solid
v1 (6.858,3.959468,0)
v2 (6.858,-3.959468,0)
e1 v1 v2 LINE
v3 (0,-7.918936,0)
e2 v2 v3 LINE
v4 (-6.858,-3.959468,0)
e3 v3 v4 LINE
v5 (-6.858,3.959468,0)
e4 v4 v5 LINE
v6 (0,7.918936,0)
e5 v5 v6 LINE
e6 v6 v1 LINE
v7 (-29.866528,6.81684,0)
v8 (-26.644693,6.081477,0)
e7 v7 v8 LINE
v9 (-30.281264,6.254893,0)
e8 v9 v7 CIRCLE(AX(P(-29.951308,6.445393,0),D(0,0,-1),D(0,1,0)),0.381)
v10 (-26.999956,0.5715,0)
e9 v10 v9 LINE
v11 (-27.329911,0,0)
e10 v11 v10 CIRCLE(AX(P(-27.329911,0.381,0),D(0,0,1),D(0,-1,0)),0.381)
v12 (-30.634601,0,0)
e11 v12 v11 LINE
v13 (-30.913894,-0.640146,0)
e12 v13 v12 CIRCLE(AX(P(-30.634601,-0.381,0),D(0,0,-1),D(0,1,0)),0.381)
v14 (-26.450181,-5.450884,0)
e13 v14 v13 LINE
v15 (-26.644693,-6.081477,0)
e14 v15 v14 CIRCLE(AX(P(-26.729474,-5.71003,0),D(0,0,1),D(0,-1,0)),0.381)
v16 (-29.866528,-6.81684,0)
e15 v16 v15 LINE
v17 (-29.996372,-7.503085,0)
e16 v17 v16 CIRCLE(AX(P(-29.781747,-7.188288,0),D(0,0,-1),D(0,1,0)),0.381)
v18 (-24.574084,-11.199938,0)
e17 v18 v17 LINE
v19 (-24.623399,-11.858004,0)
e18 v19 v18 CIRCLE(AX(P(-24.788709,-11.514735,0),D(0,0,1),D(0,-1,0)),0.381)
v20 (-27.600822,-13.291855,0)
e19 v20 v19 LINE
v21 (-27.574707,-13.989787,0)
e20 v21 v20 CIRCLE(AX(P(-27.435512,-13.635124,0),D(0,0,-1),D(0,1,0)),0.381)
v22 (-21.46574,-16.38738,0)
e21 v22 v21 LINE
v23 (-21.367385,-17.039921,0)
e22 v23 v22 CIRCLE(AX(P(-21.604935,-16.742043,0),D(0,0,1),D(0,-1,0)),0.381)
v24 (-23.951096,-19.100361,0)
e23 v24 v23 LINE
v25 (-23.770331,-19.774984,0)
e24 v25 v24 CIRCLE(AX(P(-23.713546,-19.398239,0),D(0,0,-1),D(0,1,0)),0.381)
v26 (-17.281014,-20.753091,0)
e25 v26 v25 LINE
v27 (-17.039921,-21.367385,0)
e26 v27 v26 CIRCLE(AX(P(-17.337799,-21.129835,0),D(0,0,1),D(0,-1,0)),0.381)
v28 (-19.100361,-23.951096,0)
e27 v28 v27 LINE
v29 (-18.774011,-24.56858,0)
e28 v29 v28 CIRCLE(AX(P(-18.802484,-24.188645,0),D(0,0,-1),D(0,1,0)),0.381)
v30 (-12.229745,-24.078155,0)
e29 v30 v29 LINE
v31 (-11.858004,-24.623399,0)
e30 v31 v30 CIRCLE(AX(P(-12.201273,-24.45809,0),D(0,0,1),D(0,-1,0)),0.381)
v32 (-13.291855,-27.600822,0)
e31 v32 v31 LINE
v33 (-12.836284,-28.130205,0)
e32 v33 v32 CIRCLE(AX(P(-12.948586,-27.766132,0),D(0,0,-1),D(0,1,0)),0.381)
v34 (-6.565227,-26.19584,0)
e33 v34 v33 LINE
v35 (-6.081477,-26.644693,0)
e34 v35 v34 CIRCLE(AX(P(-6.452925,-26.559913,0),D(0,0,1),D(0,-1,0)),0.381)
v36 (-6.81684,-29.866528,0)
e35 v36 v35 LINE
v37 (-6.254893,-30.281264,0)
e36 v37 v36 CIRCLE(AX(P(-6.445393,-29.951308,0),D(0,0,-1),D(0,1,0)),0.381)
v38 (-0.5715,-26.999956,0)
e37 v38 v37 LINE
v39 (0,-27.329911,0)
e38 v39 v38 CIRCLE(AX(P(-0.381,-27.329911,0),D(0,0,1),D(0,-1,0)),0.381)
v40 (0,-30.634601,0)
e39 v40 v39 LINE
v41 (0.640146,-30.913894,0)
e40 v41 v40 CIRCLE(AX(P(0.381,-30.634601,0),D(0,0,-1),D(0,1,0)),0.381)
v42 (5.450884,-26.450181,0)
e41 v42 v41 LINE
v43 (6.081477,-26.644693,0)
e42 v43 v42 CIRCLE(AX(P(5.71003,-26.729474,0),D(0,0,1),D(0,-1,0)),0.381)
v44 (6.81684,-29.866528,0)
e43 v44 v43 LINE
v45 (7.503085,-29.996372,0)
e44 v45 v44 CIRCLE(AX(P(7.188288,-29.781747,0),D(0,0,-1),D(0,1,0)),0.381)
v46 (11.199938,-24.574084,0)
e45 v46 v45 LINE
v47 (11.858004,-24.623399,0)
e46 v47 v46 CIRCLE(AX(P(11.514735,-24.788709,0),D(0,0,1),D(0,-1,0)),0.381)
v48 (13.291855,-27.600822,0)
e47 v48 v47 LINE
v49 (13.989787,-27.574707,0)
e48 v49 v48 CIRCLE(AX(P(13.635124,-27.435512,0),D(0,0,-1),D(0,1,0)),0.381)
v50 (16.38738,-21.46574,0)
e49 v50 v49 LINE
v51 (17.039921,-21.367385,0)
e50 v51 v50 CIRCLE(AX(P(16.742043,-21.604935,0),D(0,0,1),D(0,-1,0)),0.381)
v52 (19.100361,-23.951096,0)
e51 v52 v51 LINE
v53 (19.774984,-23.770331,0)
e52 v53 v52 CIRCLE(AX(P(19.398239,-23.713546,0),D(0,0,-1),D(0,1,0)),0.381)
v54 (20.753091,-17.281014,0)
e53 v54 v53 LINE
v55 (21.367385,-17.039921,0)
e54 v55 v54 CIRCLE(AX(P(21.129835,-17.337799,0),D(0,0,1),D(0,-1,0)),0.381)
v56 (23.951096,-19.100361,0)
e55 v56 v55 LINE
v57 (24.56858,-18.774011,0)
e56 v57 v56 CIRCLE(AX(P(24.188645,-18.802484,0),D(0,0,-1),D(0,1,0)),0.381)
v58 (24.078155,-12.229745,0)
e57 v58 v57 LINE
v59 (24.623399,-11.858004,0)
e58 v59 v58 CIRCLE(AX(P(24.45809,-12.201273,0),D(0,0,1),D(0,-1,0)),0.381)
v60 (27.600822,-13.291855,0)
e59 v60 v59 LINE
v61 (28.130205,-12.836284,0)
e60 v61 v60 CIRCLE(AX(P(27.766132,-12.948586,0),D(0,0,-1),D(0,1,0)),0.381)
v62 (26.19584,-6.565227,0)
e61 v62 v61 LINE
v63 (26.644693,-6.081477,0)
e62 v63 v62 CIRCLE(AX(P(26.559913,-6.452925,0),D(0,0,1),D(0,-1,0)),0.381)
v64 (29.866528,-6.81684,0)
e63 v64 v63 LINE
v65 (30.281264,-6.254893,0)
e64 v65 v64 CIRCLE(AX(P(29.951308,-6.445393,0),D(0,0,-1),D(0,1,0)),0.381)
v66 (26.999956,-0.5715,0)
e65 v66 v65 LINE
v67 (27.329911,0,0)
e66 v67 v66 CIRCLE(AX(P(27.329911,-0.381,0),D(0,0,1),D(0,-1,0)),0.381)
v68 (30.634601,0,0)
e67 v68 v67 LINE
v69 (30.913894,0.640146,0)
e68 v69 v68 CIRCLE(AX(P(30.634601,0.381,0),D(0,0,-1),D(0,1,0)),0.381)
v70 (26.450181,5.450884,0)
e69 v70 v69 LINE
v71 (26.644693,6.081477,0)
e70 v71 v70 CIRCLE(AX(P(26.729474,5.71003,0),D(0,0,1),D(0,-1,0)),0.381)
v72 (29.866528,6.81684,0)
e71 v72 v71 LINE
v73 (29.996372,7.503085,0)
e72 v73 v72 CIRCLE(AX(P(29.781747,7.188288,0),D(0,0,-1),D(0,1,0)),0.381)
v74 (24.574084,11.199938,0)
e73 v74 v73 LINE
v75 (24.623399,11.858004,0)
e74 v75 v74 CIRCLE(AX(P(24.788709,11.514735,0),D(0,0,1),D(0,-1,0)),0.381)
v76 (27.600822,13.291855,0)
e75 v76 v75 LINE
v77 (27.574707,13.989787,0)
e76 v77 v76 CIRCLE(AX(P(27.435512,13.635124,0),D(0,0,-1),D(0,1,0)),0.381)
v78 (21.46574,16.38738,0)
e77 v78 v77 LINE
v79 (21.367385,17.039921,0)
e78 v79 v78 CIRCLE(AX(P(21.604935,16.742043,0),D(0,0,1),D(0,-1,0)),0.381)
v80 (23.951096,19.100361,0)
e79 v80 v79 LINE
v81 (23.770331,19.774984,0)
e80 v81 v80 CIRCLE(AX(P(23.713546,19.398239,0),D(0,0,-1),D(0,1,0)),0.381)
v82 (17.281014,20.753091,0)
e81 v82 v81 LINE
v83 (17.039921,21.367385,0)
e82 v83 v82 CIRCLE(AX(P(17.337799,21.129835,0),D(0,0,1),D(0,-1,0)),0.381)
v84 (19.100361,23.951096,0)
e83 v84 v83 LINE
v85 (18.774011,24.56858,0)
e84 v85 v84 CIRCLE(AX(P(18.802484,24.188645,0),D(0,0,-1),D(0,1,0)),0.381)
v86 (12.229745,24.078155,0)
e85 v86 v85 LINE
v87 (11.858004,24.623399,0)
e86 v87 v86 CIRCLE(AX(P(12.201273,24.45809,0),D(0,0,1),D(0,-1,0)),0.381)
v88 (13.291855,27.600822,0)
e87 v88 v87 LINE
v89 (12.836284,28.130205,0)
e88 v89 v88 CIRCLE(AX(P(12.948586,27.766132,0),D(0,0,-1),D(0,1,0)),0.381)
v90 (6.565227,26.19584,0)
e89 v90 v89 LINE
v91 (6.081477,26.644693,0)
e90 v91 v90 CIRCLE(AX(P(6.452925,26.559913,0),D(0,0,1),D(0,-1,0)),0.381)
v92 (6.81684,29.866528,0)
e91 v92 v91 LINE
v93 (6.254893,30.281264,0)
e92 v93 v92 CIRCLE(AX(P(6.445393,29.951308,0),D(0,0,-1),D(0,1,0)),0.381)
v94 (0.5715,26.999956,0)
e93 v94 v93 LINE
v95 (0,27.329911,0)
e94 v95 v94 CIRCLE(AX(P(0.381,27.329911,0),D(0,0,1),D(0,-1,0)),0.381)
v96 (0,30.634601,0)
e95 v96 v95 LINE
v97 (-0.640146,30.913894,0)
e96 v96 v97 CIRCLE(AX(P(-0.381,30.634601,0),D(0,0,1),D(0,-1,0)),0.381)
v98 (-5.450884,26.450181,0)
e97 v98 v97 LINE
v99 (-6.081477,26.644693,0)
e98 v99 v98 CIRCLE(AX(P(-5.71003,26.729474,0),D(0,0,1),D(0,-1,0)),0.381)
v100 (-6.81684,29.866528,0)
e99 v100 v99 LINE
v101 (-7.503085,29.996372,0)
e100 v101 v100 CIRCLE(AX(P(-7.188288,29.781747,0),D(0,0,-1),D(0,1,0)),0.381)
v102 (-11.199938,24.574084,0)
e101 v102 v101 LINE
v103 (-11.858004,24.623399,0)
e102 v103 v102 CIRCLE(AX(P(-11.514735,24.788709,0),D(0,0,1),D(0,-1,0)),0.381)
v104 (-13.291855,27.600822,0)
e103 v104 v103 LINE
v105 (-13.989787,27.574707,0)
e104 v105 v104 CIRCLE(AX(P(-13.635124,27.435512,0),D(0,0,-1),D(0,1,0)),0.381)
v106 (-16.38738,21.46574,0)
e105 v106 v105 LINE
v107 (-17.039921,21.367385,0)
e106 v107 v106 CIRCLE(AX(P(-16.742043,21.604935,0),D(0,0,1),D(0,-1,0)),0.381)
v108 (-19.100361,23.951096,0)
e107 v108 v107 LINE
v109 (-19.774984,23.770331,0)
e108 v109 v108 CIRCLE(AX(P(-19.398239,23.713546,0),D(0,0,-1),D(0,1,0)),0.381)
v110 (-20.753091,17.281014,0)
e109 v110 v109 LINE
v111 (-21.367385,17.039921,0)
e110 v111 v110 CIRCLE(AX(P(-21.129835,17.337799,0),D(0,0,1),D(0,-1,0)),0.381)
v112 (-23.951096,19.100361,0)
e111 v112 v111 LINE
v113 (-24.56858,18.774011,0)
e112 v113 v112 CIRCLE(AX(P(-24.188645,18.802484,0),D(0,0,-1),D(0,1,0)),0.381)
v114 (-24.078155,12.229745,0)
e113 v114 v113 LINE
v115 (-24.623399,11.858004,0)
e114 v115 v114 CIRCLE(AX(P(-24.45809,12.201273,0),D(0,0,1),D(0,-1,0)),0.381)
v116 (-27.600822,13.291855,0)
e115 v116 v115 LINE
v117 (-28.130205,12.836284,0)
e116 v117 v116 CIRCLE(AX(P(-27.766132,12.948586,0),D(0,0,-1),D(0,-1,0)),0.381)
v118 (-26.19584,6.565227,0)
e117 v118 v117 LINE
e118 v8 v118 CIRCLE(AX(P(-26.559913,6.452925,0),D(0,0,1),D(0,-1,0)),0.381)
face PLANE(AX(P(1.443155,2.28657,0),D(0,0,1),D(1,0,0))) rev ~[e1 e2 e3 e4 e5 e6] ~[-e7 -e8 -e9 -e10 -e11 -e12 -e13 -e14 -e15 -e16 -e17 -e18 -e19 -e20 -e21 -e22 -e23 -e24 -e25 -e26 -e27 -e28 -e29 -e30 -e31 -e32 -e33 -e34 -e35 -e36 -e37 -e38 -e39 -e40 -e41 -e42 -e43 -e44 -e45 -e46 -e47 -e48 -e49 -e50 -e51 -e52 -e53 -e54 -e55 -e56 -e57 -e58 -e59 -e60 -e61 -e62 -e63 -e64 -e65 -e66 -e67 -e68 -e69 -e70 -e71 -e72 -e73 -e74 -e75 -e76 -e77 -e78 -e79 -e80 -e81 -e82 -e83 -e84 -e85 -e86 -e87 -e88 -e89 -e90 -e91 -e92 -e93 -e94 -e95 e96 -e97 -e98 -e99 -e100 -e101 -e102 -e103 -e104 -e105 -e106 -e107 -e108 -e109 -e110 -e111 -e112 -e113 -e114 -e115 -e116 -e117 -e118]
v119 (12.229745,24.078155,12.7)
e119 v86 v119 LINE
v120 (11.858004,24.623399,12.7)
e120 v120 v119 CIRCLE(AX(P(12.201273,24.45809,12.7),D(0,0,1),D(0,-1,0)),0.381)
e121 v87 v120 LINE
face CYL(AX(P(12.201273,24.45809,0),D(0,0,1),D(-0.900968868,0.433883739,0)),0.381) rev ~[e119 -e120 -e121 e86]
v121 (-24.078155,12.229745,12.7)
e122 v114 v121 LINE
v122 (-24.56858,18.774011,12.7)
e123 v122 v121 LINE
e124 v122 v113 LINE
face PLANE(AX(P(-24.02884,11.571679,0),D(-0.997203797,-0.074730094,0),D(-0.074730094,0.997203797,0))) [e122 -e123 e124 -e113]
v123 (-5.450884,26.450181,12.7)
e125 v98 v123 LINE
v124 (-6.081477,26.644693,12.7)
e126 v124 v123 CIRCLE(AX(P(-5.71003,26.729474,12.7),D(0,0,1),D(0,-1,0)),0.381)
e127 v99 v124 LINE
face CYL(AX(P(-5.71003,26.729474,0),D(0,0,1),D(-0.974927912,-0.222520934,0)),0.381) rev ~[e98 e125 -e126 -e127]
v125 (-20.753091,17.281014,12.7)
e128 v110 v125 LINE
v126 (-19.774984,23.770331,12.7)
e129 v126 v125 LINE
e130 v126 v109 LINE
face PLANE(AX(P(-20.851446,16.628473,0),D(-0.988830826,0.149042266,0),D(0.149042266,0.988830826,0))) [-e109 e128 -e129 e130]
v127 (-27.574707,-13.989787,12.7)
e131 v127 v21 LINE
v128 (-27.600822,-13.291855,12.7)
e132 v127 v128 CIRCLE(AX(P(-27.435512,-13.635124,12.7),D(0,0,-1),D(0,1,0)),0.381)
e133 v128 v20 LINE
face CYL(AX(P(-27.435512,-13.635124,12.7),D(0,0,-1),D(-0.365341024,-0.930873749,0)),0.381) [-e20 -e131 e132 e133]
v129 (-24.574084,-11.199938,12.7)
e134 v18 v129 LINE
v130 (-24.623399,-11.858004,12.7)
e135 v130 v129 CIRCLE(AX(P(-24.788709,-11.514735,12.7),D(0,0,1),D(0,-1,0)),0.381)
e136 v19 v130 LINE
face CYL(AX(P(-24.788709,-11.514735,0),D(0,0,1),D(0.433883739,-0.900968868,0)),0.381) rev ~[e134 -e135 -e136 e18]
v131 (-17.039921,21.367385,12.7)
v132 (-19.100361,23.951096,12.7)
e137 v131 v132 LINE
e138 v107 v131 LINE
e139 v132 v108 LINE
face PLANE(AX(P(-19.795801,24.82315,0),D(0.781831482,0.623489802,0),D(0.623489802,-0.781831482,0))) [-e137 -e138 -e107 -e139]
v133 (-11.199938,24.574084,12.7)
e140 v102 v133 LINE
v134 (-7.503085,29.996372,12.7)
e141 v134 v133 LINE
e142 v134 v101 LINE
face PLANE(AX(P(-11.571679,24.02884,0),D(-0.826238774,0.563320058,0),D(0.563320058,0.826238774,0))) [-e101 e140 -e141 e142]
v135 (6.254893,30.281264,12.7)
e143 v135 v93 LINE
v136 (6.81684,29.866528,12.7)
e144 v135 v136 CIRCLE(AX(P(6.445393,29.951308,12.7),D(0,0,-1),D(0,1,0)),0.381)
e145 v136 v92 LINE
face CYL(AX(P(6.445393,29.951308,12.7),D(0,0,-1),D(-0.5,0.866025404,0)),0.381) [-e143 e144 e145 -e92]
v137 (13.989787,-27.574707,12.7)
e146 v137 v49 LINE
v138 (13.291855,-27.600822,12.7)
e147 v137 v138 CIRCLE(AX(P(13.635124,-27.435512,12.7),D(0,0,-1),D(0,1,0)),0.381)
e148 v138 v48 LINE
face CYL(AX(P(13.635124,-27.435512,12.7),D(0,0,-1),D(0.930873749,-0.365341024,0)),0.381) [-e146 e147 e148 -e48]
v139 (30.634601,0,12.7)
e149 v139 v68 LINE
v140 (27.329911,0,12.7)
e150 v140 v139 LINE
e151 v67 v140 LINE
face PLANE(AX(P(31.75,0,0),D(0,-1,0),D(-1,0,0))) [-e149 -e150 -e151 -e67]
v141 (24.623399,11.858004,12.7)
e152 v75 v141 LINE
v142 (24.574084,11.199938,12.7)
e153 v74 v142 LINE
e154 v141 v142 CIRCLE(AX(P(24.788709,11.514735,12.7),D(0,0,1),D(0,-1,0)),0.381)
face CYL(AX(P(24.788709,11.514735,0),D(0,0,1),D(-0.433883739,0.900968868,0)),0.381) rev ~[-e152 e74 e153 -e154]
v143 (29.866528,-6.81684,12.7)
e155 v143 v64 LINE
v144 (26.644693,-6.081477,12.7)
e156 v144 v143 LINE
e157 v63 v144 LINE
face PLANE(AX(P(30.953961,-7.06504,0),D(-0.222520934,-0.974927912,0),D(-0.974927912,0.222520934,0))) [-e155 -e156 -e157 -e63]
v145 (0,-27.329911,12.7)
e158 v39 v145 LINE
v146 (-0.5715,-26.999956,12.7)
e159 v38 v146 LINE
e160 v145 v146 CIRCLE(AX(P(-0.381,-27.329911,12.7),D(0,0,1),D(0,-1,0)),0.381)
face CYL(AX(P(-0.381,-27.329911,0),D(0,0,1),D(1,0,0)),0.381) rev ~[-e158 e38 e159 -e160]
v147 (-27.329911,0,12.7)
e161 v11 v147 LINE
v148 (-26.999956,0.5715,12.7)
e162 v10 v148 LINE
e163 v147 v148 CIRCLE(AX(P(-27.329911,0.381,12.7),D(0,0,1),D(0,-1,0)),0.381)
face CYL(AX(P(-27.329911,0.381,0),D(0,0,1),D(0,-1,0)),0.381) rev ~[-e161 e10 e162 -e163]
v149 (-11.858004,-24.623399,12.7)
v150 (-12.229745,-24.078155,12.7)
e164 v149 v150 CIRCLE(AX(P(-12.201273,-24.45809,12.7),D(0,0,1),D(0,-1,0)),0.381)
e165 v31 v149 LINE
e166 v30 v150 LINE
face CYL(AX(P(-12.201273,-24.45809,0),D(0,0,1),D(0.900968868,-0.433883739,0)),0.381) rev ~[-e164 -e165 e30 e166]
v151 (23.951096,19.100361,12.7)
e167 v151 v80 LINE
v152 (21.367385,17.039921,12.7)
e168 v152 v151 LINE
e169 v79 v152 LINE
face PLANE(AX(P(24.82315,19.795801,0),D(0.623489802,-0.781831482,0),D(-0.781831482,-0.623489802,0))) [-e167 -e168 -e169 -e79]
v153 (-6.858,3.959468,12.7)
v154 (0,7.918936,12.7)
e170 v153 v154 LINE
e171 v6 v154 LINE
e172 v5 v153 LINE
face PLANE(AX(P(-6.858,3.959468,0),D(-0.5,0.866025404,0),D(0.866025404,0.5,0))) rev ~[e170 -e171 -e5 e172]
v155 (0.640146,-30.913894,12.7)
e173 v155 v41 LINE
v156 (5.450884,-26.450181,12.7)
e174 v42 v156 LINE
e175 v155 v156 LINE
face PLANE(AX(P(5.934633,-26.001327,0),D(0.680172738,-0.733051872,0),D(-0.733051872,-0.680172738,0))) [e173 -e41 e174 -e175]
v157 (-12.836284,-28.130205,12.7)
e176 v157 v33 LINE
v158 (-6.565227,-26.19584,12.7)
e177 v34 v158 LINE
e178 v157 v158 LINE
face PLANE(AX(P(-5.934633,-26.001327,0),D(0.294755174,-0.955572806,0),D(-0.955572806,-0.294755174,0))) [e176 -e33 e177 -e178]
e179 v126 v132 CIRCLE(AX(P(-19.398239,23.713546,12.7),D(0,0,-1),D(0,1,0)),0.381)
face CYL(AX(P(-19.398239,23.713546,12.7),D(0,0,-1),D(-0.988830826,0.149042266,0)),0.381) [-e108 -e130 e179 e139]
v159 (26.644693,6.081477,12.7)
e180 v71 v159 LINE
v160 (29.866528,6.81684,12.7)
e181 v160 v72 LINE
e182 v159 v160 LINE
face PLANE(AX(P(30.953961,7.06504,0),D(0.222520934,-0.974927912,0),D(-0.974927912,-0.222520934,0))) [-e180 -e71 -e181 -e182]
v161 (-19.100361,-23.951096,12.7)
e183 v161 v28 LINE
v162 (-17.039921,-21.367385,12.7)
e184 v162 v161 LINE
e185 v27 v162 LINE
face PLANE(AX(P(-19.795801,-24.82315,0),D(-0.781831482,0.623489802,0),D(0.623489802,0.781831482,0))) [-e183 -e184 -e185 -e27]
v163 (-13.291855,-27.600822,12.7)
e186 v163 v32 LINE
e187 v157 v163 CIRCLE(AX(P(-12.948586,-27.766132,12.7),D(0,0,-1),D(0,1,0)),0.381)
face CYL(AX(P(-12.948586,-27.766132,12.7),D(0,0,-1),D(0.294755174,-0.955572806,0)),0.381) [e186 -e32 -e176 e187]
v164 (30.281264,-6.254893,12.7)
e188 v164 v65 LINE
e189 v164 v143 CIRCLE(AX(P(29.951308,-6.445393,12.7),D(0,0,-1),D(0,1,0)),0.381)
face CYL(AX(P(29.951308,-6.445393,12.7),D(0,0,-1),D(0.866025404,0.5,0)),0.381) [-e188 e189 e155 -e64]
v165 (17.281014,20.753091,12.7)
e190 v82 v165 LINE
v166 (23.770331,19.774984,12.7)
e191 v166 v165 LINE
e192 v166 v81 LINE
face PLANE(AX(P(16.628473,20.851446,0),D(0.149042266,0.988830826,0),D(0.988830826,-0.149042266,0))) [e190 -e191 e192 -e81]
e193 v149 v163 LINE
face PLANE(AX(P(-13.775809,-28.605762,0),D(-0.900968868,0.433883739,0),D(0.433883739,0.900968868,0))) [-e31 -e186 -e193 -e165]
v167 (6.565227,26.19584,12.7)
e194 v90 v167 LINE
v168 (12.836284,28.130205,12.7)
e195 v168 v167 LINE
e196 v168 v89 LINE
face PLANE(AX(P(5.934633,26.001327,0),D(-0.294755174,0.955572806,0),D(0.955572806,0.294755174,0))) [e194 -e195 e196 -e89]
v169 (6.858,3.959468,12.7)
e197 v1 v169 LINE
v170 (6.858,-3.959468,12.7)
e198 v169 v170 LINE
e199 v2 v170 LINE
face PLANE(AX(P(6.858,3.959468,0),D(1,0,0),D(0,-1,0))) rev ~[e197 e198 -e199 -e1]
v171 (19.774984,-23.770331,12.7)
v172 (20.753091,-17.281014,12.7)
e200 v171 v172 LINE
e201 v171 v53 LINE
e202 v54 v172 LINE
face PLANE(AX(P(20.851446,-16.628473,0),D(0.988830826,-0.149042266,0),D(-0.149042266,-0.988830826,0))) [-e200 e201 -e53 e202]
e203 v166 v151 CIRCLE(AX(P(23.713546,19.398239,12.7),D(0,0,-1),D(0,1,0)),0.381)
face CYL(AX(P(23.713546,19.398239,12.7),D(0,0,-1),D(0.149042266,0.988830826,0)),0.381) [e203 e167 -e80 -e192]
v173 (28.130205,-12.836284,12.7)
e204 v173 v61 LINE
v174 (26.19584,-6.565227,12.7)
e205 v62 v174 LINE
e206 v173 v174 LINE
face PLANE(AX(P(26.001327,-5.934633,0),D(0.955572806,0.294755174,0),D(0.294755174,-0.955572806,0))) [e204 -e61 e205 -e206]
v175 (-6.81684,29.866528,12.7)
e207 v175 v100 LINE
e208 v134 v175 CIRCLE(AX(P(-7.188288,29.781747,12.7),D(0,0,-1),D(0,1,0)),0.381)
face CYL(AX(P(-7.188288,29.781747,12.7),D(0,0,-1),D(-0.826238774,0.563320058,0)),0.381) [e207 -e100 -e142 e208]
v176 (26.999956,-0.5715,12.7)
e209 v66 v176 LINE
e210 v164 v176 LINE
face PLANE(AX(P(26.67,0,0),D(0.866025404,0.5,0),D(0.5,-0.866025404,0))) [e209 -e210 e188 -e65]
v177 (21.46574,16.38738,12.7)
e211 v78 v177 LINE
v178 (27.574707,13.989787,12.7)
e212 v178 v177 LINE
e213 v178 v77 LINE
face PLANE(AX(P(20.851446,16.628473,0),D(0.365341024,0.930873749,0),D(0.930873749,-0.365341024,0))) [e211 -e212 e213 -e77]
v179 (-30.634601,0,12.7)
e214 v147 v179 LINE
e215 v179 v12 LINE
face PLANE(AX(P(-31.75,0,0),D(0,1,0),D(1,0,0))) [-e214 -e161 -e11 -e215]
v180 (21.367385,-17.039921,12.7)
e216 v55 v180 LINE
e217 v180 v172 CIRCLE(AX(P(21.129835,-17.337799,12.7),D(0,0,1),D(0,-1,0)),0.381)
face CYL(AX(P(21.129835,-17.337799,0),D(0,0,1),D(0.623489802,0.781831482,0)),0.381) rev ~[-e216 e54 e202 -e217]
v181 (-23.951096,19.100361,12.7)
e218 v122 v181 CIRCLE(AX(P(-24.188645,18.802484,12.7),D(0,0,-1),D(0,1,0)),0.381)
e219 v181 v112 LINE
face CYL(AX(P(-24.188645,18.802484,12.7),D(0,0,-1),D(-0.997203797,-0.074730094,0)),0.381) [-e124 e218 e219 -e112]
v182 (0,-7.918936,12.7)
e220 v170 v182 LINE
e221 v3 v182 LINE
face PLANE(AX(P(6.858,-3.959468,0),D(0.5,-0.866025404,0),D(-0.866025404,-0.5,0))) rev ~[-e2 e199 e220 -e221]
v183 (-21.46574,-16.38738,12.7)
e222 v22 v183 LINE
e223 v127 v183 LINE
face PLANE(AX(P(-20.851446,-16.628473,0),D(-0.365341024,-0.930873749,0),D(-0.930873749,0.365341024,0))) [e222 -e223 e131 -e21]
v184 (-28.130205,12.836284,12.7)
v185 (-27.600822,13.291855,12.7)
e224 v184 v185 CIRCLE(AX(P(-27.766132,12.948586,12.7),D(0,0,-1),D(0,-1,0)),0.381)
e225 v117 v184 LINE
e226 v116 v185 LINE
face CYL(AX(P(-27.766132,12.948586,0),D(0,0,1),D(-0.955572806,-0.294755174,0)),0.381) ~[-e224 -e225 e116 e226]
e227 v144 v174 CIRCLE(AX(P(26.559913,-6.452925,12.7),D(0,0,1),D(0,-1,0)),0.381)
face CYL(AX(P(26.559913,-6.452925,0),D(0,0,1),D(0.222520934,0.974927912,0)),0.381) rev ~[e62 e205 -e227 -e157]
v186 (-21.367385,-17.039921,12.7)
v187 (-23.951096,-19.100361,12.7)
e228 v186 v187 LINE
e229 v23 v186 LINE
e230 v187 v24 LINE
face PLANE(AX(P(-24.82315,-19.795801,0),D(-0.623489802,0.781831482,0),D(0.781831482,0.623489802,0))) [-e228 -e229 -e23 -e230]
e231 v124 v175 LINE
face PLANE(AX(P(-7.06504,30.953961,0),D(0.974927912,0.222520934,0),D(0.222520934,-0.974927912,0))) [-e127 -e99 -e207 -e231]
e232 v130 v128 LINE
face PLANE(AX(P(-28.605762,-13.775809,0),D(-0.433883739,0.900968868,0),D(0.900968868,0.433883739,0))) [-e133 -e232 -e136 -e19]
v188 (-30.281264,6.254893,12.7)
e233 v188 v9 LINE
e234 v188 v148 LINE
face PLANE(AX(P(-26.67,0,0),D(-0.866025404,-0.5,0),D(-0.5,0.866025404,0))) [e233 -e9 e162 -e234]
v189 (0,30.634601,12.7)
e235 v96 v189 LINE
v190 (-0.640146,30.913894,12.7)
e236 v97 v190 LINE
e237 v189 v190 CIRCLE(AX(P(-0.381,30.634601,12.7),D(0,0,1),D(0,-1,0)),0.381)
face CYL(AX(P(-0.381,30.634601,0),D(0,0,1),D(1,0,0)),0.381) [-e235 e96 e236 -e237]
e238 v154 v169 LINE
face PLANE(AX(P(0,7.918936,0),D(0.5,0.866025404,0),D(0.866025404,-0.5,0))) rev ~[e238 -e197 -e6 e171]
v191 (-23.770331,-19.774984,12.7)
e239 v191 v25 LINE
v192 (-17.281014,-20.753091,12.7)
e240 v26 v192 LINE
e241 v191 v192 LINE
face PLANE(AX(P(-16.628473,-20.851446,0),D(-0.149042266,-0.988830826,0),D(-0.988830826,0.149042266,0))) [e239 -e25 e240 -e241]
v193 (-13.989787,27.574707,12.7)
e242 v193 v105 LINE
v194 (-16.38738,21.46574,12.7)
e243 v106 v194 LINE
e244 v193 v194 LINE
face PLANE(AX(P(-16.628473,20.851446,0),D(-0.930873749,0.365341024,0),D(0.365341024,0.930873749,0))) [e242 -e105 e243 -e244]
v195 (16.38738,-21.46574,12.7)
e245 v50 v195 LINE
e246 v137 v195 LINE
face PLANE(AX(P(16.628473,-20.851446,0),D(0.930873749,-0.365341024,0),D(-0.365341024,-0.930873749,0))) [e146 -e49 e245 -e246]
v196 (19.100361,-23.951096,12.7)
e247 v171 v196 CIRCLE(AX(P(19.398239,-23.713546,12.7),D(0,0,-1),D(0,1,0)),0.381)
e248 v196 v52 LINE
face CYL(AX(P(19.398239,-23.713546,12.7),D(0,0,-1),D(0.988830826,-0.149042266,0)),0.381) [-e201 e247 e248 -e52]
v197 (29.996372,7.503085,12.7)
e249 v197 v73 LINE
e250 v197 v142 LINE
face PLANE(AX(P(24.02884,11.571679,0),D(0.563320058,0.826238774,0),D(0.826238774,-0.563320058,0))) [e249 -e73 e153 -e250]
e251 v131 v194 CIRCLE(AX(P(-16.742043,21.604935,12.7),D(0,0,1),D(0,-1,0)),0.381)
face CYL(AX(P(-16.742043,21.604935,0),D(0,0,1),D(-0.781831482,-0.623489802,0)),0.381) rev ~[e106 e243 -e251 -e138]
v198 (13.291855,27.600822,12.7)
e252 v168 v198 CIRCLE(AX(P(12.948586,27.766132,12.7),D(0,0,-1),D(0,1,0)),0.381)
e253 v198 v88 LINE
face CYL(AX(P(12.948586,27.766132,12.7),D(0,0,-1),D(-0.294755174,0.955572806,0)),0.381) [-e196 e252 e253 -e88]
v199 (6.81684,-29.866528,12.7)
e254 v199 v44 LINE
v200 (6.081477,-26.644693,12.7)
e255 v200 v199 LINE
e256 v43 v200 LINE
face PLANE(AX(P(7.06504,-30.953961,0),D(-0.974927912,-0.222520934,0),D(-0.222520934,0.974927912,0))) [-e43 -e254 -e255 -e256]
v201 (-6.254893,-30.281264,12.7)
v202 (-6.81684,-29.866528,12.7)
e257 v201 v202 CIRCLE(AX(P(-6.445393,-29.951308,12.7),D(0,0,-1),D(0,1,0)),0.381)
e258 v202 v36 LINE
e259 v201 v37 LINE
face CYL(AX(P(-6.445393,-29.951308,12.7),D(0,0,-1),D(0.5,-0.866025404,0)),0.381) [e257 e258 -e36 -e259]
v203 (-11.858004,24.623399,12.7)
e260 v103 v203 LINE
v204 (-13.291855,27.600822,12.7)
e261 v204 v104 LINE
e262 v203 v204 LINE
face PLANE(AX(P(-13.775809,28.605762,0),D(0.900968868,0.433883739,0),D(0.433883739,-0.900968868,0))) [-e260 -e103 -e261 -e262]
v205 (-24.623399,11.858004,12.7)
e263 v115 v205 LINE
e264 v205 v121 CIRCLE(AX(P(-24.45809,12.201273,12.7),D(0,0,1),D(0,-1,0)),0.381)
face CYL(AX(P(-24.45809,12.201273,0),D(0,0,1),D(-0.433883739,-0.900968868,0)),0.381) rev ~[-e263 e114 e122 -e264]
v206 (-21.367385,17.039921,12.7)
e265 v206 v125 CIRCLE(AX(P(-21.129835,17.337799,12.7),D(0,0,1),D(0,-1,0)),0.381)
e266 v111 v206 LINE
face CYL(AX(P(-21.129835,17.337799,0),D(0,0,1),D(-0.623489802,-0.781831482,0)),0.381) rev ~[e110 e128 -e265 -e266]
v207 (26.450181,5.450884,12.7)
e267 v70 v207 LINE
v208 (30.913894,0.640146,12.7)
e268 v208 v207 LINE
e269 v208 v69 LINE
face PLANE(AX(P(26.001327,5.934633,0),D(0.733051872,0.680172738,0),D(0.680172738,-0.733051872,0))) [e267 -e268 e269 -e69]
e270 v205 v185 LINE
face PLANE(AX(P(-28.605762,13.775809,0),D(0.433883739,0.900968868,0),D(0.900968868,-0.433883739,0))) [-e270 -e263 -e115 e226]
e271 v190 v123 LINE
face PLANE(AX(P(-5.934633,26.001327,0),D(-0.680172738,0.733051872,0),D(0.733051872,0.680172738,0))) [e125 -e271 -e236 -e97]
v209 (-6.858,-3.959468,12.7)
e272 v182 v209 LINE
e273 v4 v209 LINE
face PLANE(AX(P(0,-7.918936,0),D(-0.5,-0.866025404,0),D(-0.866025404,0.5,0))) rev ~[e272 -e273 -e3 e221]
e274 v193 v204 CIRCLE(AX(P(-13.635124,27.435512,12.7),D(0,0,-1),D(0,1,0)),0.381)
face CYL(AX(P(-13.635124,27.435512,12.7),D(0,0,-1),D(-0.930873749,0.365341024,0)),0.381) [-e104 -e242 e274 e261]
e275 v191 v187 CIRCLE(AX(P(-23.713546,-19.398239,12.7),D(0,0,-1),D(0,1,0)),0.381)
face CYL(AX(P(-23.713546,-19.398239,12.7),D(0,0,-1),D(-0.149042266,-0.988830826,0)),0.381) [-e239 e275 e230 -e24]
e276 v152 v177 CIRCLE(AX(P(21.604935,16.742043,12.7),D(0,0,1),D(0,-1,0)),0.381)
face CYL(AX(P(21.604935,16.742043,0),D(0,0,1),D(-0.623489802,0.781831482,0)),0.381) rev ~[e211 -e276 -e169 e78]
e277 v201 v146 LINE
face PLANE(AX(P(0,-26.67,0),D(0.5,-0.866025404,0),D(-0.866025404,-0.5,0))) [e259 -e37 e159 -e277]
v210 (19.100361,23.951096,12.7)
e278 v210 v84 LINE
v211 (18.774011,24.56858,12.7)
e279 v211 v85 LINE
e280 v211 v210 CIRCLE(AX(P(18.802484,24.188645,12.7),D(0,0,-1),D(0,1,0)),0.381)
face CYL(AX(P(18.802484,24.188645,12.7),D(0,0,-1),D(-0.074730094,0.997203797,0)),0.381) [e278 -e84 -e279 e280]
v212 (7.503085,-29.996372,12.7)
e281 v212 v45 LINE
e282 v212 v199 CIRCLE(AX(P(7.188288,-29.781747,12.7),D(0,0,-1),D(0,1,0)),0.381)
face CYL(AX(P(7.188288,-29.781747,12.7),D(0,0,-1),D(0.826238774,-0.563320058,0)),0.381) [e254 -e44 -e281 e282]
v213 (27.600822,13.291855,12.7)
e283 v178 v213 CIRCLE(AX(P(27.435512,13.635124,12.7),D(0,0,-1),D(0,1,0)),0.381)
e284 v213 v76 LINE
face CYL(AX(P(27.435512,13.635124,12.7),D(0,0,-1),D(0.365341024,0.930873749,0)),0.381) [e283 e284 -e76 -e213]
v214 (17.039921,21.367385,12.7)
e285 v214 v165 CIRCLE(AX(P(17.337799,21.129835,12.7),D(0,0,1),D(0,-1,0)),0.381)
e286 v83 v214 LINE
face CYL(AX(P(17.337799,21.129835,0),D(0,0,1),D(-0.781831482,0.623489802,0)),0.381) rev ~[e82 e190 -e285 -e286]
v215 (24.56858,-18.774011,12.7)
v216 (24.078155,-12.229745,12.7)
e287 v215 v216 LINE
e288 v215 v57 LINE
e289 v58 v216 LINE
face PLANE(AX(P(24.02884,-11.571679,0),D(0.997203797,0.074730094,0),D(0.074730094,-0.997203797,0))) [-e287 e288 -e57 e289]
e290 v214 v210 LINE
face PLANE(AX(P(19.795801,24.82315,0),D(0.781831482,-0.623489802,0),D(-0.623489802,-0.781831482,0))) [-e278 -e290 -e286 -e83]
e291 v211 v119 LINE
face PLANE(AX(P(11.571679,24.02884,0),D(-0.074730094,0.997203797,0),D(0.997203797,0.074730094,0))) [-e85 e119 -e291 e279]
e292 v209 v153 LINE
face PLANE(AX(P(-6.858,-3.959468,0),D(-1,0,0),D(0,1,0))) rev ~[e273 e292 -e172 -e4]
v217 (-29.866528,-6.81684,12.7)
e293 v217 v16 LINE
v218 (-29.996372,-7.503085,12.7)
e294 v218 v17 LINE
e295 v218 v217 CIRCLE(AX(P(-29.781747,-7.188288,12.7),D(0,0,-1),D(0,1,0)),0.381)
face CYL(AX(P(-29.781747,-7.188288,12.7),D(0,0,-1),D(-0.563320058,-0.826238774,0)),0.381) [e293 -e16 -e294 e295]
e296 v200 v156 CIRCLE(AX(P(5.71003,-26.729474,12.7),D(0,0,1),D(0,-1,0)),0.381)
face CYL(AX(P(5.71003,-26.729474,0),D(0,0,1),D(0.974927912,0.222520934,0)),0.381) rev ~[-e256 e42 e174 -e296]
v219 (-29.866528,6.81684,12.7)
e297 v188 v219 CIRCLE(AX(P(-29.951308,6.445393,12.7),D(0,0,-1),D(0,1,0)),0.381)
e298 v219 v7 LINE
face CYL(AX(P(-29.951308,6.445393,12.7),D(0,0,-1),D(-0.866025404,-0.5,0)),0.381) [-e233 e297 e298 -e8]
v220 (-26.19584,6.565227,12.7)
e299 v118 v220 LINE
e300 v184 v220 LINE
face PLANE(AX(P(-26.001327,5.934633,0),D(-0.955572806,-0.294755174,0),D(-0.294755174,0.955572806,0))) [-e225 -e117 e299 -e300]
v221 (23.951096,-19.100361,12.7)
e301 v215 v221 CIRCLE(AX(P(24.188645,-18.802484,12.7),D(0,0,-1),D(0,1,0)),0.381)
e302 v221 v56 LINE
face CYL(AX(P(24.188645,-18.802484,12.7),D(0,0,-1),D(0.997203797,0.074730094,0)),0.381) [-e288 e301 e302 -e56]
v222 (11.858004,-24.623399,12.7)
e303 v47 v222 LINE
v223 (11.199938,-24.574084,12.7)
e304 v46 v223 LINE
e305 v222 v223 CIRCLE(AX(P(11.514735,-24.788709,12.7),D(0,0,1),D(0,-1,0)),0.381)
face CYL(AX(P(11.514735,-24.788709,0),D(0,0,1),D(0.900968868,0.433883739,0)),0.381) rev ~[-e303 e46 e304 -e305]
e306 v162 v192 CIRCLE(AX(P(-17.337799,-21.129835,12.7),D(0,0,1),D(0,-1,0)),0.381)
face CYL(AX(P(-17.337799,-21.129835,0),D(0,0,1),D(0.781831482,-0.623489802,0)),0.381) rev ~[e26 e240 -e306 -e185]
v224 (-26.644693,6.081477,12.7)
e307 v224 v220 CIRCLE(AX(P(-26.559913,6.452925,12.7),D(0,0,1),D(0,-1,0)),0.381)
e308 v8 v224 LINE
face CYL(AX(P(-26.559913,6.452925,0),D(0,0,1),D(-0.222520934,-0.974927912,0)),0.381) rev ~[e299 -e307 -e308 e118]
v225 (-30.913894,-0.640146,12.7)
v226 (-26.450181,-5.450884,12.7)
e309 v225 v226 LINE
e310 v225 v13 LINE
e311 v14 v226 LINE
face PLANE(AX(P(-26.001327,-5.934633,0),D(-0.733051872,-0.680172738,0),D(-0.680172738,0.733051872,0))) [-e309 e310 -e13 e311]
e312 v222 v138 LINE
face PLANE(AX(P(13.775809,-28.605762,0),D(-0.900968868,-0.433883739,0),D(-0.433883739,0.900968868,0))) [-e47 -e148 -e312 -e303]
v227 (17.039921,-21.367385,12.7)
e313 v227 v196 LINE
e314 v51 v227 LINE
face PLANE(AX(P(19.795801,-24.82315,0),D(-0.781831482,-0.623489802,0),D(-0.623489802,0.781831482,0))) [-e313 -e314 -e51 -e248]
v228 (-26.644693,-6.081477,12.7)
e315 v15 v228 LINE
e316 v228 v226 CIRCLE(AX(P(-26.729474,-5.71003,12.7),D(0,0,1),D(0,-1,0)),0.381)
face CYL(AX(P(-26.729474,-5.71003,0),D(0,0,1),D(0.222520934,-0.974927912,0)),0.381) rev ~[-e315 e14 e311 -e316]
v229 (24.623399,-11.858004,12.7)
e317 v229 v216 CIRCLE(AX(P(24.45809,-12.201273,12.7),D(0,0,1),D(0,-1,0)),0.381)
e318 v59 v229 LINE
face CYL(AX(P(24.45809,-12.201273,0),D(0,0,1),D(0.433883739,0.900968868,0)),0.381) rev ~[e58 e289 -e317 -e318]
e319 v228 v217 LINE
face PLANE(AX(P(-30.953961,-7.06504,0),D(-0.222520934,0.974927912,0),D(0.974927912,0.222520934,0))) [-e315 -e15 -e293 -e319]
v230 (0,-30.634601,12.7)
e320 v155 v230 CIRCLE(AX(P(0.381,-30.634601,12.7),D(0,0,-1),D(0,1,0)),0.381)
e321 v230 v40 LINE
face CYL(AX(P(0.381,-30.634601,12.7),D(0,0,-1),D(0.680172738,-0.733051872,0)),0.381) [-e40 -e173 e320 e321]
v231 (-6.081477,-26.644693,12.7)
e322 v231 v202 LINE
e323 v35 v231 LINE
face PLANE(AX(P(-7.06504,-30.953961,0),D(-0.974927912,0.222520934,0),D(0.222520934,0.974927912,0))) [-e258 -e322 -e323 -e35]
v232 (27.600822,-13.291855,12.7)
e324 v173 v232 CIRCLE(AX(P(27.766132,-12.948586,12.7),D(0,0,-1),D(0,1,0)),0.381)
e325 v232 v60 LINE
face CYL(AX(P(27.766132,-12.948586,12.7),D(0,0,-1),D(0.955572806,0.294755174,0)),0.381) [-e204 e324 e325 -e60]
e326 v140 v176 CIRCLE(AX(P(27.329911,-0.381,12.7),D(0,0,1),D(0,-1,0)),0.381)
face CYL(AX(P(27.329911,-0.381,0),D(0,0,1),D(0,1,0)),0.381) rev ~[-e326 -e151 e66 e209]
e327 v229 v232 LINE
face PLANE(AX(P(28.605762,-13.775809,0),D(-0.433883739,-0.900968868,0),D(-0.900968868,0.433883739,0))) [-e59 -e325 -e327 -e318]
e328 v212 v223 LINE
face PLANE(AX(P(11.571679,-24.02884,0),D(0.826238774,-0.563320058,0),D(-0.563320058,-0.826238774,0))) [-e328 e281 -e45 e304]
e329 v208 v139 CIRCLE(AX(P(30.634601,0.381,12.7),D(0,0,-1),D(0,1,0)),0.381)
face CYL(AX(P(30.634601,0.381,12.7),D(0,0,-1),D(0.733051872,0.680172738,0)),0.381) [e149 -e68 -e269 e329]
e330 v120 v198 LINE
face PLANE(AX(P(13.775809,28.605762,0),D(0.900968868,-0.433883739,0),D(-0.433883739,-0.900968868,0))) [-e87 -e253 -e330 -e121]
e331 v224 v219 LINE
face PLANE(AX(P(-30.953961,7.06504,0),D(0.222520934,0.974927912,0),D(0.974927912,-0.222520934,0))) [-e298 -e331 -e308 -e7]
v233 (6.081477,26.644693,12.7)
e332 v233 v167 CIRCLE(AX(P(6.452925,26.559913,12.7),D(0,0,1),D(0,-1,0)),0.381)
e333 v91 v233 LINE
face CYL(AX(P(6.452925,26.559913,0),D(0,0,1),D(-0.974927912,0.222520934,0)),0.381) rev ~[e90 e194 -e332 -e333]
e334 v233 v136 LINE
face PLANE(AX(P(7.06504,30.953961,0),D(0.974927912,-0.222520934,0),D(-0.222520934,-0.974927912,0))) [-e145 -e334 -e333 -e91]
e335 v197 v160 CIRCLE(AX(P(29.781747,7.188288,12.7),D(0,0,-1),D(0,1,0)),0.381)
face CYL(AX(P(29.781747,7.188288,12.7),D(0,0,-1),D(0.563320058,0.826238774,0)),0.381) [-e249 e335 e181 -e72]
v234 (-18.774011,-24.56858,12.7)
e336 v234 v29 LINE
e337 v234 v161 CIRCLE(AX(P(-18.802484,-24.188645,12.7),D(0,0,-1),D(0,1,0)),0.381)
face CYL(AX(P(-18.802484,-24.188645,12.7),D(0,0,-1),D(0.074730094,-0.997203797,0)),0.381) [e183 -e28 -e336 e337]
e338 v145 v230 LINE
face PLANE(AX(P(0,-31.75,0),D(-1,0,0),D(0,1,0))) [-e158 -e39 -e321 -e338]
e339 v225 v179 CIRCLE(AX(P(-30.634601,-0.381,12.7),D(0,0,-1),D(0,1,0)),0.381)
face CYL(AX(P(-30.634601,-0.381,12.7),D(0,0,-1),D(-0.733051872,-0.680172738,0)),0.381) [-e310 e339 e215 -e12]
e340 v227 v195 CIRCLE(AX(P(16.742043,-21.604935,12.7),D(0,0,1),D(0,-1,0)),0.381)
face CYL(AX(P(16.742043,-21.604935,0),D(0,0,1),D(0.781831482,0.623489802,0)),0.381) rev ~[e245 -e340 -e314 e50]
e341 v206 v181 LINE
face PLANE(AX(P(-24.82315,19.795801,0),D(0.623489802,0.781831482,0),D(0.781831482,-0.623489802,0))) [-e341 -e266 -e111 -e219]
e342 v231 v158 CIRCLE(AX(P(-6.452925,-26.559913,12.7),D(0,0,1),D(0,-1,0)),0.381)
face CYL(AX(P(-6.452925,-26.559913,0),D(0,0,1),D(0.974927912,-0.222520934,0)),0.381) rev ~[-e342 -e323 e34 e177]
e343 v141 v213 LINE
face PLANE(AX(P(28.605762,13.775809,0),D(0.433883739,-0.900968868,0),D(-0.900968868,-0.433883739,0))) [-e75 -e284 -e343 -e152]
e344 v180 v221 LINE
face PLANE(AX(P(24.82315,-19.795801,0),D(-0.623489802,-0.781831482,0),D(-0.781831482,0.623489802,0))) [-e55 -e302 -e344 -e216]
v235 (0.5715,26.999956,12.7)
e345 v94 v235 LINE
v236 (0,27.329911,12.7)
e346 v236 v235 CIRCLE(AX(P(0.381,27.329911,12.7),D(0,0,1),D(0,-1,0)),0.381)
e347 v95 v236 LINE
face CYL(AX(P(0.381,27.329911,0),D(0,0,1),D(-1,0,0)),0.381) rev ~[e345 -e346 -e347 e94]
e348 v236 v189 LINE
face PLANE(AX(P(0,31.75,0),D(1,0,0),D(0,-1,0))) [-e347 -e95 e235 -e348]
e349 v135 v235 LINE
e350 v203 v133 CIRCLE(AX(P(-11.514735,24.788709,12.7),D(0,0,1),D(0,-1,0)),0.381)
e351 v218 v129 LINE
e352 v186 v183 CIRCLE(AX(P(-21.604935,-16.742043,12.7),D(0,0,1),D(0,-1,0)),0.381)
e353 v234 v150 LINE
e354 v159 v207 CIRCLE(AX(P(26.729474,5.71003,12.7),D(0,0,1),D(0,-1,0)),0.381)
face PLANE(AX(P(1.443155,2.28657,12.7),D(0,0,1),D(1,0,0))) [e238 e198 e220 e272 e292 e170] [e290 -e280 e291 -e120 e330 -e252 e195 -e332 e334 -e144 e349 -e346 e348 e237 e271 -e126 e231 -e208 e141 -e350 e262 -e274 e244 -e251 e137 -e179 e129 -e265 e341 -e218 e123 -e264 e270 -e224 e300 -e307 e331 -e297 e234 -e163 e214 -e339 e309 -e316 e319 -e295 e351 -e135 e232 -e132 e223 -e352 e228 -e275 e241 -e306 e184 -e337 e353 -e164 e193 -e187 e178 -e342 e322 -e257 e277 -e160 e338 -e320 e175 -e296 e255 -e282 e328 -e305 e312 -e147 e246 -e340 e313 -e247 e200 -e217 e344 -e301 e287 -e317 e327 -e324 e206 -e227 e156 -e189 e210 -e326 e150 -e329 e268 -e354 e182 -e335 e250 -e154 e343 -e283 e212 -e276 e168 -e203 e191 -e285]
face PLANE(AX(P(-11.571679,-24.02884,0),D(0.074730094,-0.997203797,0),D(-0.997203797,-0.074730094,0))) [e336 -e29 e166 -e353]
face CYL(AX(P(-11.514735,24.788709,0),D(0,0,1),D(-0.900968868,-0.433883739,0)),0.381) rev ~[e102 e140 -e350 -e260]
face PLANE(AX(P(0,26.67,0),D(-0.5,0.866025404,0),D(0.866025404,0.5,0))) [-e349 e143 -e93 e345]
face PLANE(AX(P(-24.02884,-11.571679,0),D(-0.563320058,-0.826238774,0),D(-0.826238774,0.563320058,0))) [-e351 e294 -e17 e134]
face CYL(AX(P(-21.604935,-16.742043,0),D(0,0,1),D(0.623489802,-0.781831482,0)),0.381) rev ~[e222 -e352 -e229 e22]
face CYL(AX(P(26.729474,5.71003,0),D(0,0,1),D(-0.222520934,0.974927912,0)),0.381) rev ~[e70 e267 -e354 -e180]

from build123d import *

# Parameters (mm, degrees)
F1_DEPTH = 12.7
F2_DEPTH = 25
F3_COUNT = 28
F5_R     = 0.381


with BuildPart() as f1:
    # F0 (on Top) → F1 (new body)
    with BuildSketch(Plane.XY):
        with BuildLine():
            ThreePointArc((0, 31.75), (-22.4506403027, -22.4506403027), (31.75, 0))
            ThreePointArc((31.75, 0), (24.9039389343, 19.6940682835), (7.3181054768, 30.895110167))
            Line((7.3181054768, 30.895110167), (0, 26.67))
            Line((0, 26.67), (0, 31.75))
        make_face()
        Polygon((0, 7.9189362922), (6.858, 3.9594681461), (6.858, -3.9594681461), (0, -7.9189362922), (-6.858, -3.9594681461), (-6.858, 3.9594681461), align=None, mode=Mode.SUBTRACT)
        with BuildLine():
            Line((0, 26.67), (7.3181054768, 30.895110167))
            ThreePointArc((7.3181054768, 30.895110167), (3.6839348663, 31.5355533311), (0, 31.75))
            Line((0, 31.75), (0, 26.67))
        make_face()
    extrude(amount=F1_DEPTH)


with BuildPart() as f2:
    # F0 (on Top) → F2 (new body)
    with BuildSketch(Plane.XY):
        with BuildLine():
            Line((0, 26.67), (7.3181054768, 30.895110167))
            ThreePointArc((7.3181054768, 30.895110167), (3.6839348663, 31.5355533311), (0, 31.75))
            Line((0, 31.75), (0, 26.67))
        make_face()
    extrude(amount=F2_DEPTH)


with BuildPart() as f3_1:
    # F3: instance of F2
    add(f2.part.rotate(Axis((0, 0, 0), (0, 0, -1)), 1 * 360 / F3_COUNT))


with BuildPart() as f3_2:
    # F3: instance of F2
    add(f2.part.rotate(Axis((0, 0, 0), (0, 0, -1)), 2 * 360 / F3_COUNT))


with BuildPart() as f3_3:
    # F3: instance of F2
    add(f2.part.rotate(Axis((0, 0, 0), (0, 0, -1)), 3 * 360 / F3_COUNT))


with BuildPart() as f3_4:
    # F3: instance of F2
    add(f2.part.rotate(Axis((0, 0, 0), (0, 0, -1)), 4 * 360 / F3_COUNT))


with BuildPart() as f3_5:
    # F3: instance of F2
    add(f2.part.rotate(Axis((0, 0, 0), (0, 0, -1)), 5 * 360 / F3_COUNT))


with BuildPart() as f3_6:
    # F3: instance of F2
    add(f2.part.rotate(Axis((0, 0, 0), (0, 0, -1)), 6 * 360 / F3_COUNT))


with BuildPart() as f3_7:
    # F3: instance of F2
    add(f2.part.rotate(Axis((0, 0, 0), (0, 0, -1)), 7 * 360 / F3_COUNT))


with BuildPart() as f3_8:
    # F3: instance of F2
    add(f2.part.rotate(Axis((0, 0, 0), (0, 0, -1)), 8 * 360 / F3_COUNT))


with BuildPart() as f3_9:
    # F3: instance of F2
    add(f2.part.rotate(Axis((0, 0, 0), (0, 0, -1)), 9 * 360 / F3_COUNT))


with BuildPart() as f3_10:
    # F3: instance of F2
    add(f2.part.rotate(Axis((0, 0, 0), (0, 0, -1)), 10 * 360 / F3_COUNT))


with BuildPart() as f3_11:
    # F3: instance of F2
    add(f2.part.rotate(Axis((0, 0, 0), (0, 0, -1)), 11 * 360 / F3_COUNT))


with BuildPart() as f3_12:
    # F3: instance of F2
    add(f2.part.rotate(Axis((0, 0, 0), (0, 0, -1)), 12 * 360 / F3_COUNT))


with BuildPart() as f3_13:
    # F3: instance of F2
    add(f2.part.rotate(Axis((0, 0, 0), (0, 0, -1)), 13 * 360 / F3_COUNT))


with BuildPart() as f3_14:
    # F3: instance of F2
    add(f2.part.rotate(Axis((0, 0, 0), (0, 0, -1)), 14 * 360 / F3_COUNT))


with BuildPart() as f3_15:
    # F3: instance of F2
    add(f2.part.rotate(Axis((0, 0, 0), (0, 0, -1)), 15 * 360 / F3_COUNT))


with BuildPart() as f3_16:
    # F3: instance of F2
    add(f2.part.rotate(Axis((0, 0, 0), (0, 0, -1)), 16 * 360 / F3_COUNT))


with BuildPart() as f3_17:
    # F3: instance of F2
    add(f2.part.rotate(Axis((0, 0, 0), (0, 0, -1)), 17 * 360 / F3_COUNT))


with BuildPart() as f3_18:
    # F3: instance of F2
    add(f2.part.rotate(Axis((0, 0, 0), (0, 0, -1)), 18 * 360 / F3_COUNT))


with BuildPart() as f3_19:
    # F3: instance of F2
    add(f2.part.rotate(Axis((0, 0, 0), (0, 0, -1)), 19 * 360 / F3_COUNT))


with BuildPart() as f3_20:
    # F3: instance of F2
    add(f2.part.rotate(Axis((0, 0, 0), (0, 0, -1)), 20 * 360 / F3_COUNT))


with BuildPart() as f3_21:
    # F3: instance of F2
    add(f2.part.rotate(Axis((0, 0, 0), (0, 0, -1)), 21 * 360 / F3_COUNT))


with BuildPart() as f3_22:
    # F3: instance of F2
    add(f2.part.rotate(Axis((0, 0, 0), (0, 0, -1)), 22 * 360 / F3_COUNT))


with BuildPart() as f3_23:
    # F3: instance of F2
    add(f2.part.rotate(Axis((0, 0, 0), (0, 0, -1)), 23 * 360 / F3_COUNT))


with BuildPart() as f3_24:
    # F3: instance of F2
    add(f2.part.rotate(Axis((0, 0, 0), (0, 0, -1)), 24 * 360 / F3_COUNT))


with BuildPart() as f3_25:
    # F3: instance of F2
    add(f2.part.rotate(Axis((0, 0, 0), (0, 0, -1)), 25 * 360 / F3_COUNT))


with BuildPart() as f3_26:
    # F3: instance of F2
    add(f2.part.rotate(Axis((0, 0, 0), (0, 0, -1)), 26 * 360 / F3_COUNT))


with BuildPart() as f3_27:
    # F3: instance of F2
    add(f2.part.rotate(Axis((0, 0, 0), (0, 0, -1)), 27 * 360 / F3_COUNT))


with BuildPart() as f1_1:
    add(f1.part)

    # F4: cut F2, F3_1, F3_2, F3_3, F3_4, F3_5, F3_6, F3_7, F3_8, F3_9, F3_10, F3_11, F3_12, F3_13, F3_14, F3_15, F3_16, F3_17, F3_18, F3_19, F3_20, F3_21, F3_23, F3_22, F3_24, F3_25, F3_26, F3_27
    add(f2.part, mode=Mode.SUBTRACT)
    add(f3_1.part, mode=Mode.SUBTRACT)
    add(f3_2.part, mode=Mode.SUBTRACT)
    add(f3_3.part, mode=Mode.SUBTRACT)
    add(f3_4.part, mode=Mode.SUBTRACT)
    add(f3_5.part, mode=Mode.SUBTRACT)
    add(f3_6.part, mode=Mode.SUBTRACT)
    add(f3_7.part, mode=Mode.SUBTRACT)
    add(f3_8.part, mode=Mode.SUBTRACT)
    add(f3_9.part, mode=Mode.SUBTRACT)
    add(f3_10.part, mode=Mode.SUBTRACT)
    add(f3_11.part, mode=Mode.SUBTRACT)
    add(f3_12.part, mode=Mode.SUBTRACT)
    add(f3_13.part, mode=Mode.SUBTRACT)
    add(f3_14.part, mode=Mode.SUBTRACT)
    add(f3_15.part, mode=Mode.SUBTRACT)
    add(f3_16.part, mode=Mode.SUBTRACT)
    add(f3_17.part, mode=Mode.SUBTRACT)
    add(f3_18.part, mode=Mode.SUBTRACT)
    add(f3_19.part, mode=Mode.SUBTRACT)
    add(f3_20.part, mode=Mode.SUBTRACT)
    add(f3_21.part, mode=Mode.SUBTRACT)
    add(f3_23.part, mode=Mode.SUBTRACT)
    add(f3_22.part, mode=Mode.SUBTRACT)
    add(f3_24.part, mode=Mode.SUBTRACT)
    add(f3_25.part, mode=Mode.SUBTRACT)
    add(f3_26.part, mode=Mode.SUBTRACT)
    add(f3_27.part, mode=Mode.SUBTRACT)

    # F5
    f5_edges = [f1_1.edges().sort_by_distance(p)[0] for p in [
        (-31.507862, 0, 6.35),
        (-30.717895, 7.011159, 6.35),
        (-28.387603, 13.670749, 6.35),
        (-24.633839, 19.644831, 6.35),
        (-19.644831, 24.633839, 6.35),
        (-13.670749, 28.387603, 6.35),
        (-7.011159, 30.717895, 6.35),
        (0, 31.507862, 6.35),
        (7.011159, 30.717895, 6.35),
        (13.670749, 28.387603, 6.35),
        (19.644831, 24.633839, 6.35),
        (24.633839, 19.644831, 6.35),
        (28.387603, 13.670749, 6.35),
        (30.717895, 7.011159, 6.35),
        (31.507862, 0, 6.35),
        (30.717895, -7.011159, 6.35),
        (28.387603, -13.670749, 6.35),
        (24.633839, -19.644831, 6.35),
        (19.644831, -24.633839, 6.35),
        (13.670749, -28.387603, 6.35),
        (7.011159, -30.717895, 6.35),
        (0, -31.507862, 6.35),
        (-7.011159, -30.717895, 6.35),
        (-13.670749, -28.387603, 6.35),
        (-19.644831, -24.633839, 6.35),
        (-24.633839, -19.644831, 6.35),
        (-28.387603, -13.670749, 6.35),
        (-30.717895, -7.011159, 6.35),
        (26.001327, 5.934633, 6.35),
        (26.67, 0, 6.35),
        (26.001327, -5.934633, 6.35),
        (24.02884, -11.571679, 6.35),
        (20.851446, -16.628473, 6.35),
        (16.628473, -20.851446, 6.35),
        (11.571679, -24.02884, 6.35),
        (5.934633, -26.001327, 6.35),
        (0, -26.67, 6.35),
        (-5.934633, -26.001327, 6.35),
        (-11.571679, -24.02884, 6.35),
        (-16.628473, -20.851446, 6.35),
        (-20.851446, -16.628473, 6.35),
        (-24.02884, -11.571679, 6.35),
        (-26.001327, -5.934633, 6.35),
        (-26.67, 0, 6.35),
        (-26.001327, 5.934633, 6.35),
        (-24.02884, 11.571679, 6.35),
        (-20.851446, 16.628473, 6.35),
        (-16.628473, 20.851446, 6.35),
        (-11.571679, 24.02884, 6.35),
        (-5.934633, 26.001327, 6.35),
        (0, 26.67, 6.35),
        (5.934633, 26.001327, 6.35),
        (11.571679, 24.02884, 6.35),
        (16.628473, 20.851446, 6.35),
        (20.851446, 16.628473, 6.35),
        (24.02884, 11.571679, 6.35),
    ]]
    fillet(f5_edges, radius=F5_R)


solid = f1_1.part
